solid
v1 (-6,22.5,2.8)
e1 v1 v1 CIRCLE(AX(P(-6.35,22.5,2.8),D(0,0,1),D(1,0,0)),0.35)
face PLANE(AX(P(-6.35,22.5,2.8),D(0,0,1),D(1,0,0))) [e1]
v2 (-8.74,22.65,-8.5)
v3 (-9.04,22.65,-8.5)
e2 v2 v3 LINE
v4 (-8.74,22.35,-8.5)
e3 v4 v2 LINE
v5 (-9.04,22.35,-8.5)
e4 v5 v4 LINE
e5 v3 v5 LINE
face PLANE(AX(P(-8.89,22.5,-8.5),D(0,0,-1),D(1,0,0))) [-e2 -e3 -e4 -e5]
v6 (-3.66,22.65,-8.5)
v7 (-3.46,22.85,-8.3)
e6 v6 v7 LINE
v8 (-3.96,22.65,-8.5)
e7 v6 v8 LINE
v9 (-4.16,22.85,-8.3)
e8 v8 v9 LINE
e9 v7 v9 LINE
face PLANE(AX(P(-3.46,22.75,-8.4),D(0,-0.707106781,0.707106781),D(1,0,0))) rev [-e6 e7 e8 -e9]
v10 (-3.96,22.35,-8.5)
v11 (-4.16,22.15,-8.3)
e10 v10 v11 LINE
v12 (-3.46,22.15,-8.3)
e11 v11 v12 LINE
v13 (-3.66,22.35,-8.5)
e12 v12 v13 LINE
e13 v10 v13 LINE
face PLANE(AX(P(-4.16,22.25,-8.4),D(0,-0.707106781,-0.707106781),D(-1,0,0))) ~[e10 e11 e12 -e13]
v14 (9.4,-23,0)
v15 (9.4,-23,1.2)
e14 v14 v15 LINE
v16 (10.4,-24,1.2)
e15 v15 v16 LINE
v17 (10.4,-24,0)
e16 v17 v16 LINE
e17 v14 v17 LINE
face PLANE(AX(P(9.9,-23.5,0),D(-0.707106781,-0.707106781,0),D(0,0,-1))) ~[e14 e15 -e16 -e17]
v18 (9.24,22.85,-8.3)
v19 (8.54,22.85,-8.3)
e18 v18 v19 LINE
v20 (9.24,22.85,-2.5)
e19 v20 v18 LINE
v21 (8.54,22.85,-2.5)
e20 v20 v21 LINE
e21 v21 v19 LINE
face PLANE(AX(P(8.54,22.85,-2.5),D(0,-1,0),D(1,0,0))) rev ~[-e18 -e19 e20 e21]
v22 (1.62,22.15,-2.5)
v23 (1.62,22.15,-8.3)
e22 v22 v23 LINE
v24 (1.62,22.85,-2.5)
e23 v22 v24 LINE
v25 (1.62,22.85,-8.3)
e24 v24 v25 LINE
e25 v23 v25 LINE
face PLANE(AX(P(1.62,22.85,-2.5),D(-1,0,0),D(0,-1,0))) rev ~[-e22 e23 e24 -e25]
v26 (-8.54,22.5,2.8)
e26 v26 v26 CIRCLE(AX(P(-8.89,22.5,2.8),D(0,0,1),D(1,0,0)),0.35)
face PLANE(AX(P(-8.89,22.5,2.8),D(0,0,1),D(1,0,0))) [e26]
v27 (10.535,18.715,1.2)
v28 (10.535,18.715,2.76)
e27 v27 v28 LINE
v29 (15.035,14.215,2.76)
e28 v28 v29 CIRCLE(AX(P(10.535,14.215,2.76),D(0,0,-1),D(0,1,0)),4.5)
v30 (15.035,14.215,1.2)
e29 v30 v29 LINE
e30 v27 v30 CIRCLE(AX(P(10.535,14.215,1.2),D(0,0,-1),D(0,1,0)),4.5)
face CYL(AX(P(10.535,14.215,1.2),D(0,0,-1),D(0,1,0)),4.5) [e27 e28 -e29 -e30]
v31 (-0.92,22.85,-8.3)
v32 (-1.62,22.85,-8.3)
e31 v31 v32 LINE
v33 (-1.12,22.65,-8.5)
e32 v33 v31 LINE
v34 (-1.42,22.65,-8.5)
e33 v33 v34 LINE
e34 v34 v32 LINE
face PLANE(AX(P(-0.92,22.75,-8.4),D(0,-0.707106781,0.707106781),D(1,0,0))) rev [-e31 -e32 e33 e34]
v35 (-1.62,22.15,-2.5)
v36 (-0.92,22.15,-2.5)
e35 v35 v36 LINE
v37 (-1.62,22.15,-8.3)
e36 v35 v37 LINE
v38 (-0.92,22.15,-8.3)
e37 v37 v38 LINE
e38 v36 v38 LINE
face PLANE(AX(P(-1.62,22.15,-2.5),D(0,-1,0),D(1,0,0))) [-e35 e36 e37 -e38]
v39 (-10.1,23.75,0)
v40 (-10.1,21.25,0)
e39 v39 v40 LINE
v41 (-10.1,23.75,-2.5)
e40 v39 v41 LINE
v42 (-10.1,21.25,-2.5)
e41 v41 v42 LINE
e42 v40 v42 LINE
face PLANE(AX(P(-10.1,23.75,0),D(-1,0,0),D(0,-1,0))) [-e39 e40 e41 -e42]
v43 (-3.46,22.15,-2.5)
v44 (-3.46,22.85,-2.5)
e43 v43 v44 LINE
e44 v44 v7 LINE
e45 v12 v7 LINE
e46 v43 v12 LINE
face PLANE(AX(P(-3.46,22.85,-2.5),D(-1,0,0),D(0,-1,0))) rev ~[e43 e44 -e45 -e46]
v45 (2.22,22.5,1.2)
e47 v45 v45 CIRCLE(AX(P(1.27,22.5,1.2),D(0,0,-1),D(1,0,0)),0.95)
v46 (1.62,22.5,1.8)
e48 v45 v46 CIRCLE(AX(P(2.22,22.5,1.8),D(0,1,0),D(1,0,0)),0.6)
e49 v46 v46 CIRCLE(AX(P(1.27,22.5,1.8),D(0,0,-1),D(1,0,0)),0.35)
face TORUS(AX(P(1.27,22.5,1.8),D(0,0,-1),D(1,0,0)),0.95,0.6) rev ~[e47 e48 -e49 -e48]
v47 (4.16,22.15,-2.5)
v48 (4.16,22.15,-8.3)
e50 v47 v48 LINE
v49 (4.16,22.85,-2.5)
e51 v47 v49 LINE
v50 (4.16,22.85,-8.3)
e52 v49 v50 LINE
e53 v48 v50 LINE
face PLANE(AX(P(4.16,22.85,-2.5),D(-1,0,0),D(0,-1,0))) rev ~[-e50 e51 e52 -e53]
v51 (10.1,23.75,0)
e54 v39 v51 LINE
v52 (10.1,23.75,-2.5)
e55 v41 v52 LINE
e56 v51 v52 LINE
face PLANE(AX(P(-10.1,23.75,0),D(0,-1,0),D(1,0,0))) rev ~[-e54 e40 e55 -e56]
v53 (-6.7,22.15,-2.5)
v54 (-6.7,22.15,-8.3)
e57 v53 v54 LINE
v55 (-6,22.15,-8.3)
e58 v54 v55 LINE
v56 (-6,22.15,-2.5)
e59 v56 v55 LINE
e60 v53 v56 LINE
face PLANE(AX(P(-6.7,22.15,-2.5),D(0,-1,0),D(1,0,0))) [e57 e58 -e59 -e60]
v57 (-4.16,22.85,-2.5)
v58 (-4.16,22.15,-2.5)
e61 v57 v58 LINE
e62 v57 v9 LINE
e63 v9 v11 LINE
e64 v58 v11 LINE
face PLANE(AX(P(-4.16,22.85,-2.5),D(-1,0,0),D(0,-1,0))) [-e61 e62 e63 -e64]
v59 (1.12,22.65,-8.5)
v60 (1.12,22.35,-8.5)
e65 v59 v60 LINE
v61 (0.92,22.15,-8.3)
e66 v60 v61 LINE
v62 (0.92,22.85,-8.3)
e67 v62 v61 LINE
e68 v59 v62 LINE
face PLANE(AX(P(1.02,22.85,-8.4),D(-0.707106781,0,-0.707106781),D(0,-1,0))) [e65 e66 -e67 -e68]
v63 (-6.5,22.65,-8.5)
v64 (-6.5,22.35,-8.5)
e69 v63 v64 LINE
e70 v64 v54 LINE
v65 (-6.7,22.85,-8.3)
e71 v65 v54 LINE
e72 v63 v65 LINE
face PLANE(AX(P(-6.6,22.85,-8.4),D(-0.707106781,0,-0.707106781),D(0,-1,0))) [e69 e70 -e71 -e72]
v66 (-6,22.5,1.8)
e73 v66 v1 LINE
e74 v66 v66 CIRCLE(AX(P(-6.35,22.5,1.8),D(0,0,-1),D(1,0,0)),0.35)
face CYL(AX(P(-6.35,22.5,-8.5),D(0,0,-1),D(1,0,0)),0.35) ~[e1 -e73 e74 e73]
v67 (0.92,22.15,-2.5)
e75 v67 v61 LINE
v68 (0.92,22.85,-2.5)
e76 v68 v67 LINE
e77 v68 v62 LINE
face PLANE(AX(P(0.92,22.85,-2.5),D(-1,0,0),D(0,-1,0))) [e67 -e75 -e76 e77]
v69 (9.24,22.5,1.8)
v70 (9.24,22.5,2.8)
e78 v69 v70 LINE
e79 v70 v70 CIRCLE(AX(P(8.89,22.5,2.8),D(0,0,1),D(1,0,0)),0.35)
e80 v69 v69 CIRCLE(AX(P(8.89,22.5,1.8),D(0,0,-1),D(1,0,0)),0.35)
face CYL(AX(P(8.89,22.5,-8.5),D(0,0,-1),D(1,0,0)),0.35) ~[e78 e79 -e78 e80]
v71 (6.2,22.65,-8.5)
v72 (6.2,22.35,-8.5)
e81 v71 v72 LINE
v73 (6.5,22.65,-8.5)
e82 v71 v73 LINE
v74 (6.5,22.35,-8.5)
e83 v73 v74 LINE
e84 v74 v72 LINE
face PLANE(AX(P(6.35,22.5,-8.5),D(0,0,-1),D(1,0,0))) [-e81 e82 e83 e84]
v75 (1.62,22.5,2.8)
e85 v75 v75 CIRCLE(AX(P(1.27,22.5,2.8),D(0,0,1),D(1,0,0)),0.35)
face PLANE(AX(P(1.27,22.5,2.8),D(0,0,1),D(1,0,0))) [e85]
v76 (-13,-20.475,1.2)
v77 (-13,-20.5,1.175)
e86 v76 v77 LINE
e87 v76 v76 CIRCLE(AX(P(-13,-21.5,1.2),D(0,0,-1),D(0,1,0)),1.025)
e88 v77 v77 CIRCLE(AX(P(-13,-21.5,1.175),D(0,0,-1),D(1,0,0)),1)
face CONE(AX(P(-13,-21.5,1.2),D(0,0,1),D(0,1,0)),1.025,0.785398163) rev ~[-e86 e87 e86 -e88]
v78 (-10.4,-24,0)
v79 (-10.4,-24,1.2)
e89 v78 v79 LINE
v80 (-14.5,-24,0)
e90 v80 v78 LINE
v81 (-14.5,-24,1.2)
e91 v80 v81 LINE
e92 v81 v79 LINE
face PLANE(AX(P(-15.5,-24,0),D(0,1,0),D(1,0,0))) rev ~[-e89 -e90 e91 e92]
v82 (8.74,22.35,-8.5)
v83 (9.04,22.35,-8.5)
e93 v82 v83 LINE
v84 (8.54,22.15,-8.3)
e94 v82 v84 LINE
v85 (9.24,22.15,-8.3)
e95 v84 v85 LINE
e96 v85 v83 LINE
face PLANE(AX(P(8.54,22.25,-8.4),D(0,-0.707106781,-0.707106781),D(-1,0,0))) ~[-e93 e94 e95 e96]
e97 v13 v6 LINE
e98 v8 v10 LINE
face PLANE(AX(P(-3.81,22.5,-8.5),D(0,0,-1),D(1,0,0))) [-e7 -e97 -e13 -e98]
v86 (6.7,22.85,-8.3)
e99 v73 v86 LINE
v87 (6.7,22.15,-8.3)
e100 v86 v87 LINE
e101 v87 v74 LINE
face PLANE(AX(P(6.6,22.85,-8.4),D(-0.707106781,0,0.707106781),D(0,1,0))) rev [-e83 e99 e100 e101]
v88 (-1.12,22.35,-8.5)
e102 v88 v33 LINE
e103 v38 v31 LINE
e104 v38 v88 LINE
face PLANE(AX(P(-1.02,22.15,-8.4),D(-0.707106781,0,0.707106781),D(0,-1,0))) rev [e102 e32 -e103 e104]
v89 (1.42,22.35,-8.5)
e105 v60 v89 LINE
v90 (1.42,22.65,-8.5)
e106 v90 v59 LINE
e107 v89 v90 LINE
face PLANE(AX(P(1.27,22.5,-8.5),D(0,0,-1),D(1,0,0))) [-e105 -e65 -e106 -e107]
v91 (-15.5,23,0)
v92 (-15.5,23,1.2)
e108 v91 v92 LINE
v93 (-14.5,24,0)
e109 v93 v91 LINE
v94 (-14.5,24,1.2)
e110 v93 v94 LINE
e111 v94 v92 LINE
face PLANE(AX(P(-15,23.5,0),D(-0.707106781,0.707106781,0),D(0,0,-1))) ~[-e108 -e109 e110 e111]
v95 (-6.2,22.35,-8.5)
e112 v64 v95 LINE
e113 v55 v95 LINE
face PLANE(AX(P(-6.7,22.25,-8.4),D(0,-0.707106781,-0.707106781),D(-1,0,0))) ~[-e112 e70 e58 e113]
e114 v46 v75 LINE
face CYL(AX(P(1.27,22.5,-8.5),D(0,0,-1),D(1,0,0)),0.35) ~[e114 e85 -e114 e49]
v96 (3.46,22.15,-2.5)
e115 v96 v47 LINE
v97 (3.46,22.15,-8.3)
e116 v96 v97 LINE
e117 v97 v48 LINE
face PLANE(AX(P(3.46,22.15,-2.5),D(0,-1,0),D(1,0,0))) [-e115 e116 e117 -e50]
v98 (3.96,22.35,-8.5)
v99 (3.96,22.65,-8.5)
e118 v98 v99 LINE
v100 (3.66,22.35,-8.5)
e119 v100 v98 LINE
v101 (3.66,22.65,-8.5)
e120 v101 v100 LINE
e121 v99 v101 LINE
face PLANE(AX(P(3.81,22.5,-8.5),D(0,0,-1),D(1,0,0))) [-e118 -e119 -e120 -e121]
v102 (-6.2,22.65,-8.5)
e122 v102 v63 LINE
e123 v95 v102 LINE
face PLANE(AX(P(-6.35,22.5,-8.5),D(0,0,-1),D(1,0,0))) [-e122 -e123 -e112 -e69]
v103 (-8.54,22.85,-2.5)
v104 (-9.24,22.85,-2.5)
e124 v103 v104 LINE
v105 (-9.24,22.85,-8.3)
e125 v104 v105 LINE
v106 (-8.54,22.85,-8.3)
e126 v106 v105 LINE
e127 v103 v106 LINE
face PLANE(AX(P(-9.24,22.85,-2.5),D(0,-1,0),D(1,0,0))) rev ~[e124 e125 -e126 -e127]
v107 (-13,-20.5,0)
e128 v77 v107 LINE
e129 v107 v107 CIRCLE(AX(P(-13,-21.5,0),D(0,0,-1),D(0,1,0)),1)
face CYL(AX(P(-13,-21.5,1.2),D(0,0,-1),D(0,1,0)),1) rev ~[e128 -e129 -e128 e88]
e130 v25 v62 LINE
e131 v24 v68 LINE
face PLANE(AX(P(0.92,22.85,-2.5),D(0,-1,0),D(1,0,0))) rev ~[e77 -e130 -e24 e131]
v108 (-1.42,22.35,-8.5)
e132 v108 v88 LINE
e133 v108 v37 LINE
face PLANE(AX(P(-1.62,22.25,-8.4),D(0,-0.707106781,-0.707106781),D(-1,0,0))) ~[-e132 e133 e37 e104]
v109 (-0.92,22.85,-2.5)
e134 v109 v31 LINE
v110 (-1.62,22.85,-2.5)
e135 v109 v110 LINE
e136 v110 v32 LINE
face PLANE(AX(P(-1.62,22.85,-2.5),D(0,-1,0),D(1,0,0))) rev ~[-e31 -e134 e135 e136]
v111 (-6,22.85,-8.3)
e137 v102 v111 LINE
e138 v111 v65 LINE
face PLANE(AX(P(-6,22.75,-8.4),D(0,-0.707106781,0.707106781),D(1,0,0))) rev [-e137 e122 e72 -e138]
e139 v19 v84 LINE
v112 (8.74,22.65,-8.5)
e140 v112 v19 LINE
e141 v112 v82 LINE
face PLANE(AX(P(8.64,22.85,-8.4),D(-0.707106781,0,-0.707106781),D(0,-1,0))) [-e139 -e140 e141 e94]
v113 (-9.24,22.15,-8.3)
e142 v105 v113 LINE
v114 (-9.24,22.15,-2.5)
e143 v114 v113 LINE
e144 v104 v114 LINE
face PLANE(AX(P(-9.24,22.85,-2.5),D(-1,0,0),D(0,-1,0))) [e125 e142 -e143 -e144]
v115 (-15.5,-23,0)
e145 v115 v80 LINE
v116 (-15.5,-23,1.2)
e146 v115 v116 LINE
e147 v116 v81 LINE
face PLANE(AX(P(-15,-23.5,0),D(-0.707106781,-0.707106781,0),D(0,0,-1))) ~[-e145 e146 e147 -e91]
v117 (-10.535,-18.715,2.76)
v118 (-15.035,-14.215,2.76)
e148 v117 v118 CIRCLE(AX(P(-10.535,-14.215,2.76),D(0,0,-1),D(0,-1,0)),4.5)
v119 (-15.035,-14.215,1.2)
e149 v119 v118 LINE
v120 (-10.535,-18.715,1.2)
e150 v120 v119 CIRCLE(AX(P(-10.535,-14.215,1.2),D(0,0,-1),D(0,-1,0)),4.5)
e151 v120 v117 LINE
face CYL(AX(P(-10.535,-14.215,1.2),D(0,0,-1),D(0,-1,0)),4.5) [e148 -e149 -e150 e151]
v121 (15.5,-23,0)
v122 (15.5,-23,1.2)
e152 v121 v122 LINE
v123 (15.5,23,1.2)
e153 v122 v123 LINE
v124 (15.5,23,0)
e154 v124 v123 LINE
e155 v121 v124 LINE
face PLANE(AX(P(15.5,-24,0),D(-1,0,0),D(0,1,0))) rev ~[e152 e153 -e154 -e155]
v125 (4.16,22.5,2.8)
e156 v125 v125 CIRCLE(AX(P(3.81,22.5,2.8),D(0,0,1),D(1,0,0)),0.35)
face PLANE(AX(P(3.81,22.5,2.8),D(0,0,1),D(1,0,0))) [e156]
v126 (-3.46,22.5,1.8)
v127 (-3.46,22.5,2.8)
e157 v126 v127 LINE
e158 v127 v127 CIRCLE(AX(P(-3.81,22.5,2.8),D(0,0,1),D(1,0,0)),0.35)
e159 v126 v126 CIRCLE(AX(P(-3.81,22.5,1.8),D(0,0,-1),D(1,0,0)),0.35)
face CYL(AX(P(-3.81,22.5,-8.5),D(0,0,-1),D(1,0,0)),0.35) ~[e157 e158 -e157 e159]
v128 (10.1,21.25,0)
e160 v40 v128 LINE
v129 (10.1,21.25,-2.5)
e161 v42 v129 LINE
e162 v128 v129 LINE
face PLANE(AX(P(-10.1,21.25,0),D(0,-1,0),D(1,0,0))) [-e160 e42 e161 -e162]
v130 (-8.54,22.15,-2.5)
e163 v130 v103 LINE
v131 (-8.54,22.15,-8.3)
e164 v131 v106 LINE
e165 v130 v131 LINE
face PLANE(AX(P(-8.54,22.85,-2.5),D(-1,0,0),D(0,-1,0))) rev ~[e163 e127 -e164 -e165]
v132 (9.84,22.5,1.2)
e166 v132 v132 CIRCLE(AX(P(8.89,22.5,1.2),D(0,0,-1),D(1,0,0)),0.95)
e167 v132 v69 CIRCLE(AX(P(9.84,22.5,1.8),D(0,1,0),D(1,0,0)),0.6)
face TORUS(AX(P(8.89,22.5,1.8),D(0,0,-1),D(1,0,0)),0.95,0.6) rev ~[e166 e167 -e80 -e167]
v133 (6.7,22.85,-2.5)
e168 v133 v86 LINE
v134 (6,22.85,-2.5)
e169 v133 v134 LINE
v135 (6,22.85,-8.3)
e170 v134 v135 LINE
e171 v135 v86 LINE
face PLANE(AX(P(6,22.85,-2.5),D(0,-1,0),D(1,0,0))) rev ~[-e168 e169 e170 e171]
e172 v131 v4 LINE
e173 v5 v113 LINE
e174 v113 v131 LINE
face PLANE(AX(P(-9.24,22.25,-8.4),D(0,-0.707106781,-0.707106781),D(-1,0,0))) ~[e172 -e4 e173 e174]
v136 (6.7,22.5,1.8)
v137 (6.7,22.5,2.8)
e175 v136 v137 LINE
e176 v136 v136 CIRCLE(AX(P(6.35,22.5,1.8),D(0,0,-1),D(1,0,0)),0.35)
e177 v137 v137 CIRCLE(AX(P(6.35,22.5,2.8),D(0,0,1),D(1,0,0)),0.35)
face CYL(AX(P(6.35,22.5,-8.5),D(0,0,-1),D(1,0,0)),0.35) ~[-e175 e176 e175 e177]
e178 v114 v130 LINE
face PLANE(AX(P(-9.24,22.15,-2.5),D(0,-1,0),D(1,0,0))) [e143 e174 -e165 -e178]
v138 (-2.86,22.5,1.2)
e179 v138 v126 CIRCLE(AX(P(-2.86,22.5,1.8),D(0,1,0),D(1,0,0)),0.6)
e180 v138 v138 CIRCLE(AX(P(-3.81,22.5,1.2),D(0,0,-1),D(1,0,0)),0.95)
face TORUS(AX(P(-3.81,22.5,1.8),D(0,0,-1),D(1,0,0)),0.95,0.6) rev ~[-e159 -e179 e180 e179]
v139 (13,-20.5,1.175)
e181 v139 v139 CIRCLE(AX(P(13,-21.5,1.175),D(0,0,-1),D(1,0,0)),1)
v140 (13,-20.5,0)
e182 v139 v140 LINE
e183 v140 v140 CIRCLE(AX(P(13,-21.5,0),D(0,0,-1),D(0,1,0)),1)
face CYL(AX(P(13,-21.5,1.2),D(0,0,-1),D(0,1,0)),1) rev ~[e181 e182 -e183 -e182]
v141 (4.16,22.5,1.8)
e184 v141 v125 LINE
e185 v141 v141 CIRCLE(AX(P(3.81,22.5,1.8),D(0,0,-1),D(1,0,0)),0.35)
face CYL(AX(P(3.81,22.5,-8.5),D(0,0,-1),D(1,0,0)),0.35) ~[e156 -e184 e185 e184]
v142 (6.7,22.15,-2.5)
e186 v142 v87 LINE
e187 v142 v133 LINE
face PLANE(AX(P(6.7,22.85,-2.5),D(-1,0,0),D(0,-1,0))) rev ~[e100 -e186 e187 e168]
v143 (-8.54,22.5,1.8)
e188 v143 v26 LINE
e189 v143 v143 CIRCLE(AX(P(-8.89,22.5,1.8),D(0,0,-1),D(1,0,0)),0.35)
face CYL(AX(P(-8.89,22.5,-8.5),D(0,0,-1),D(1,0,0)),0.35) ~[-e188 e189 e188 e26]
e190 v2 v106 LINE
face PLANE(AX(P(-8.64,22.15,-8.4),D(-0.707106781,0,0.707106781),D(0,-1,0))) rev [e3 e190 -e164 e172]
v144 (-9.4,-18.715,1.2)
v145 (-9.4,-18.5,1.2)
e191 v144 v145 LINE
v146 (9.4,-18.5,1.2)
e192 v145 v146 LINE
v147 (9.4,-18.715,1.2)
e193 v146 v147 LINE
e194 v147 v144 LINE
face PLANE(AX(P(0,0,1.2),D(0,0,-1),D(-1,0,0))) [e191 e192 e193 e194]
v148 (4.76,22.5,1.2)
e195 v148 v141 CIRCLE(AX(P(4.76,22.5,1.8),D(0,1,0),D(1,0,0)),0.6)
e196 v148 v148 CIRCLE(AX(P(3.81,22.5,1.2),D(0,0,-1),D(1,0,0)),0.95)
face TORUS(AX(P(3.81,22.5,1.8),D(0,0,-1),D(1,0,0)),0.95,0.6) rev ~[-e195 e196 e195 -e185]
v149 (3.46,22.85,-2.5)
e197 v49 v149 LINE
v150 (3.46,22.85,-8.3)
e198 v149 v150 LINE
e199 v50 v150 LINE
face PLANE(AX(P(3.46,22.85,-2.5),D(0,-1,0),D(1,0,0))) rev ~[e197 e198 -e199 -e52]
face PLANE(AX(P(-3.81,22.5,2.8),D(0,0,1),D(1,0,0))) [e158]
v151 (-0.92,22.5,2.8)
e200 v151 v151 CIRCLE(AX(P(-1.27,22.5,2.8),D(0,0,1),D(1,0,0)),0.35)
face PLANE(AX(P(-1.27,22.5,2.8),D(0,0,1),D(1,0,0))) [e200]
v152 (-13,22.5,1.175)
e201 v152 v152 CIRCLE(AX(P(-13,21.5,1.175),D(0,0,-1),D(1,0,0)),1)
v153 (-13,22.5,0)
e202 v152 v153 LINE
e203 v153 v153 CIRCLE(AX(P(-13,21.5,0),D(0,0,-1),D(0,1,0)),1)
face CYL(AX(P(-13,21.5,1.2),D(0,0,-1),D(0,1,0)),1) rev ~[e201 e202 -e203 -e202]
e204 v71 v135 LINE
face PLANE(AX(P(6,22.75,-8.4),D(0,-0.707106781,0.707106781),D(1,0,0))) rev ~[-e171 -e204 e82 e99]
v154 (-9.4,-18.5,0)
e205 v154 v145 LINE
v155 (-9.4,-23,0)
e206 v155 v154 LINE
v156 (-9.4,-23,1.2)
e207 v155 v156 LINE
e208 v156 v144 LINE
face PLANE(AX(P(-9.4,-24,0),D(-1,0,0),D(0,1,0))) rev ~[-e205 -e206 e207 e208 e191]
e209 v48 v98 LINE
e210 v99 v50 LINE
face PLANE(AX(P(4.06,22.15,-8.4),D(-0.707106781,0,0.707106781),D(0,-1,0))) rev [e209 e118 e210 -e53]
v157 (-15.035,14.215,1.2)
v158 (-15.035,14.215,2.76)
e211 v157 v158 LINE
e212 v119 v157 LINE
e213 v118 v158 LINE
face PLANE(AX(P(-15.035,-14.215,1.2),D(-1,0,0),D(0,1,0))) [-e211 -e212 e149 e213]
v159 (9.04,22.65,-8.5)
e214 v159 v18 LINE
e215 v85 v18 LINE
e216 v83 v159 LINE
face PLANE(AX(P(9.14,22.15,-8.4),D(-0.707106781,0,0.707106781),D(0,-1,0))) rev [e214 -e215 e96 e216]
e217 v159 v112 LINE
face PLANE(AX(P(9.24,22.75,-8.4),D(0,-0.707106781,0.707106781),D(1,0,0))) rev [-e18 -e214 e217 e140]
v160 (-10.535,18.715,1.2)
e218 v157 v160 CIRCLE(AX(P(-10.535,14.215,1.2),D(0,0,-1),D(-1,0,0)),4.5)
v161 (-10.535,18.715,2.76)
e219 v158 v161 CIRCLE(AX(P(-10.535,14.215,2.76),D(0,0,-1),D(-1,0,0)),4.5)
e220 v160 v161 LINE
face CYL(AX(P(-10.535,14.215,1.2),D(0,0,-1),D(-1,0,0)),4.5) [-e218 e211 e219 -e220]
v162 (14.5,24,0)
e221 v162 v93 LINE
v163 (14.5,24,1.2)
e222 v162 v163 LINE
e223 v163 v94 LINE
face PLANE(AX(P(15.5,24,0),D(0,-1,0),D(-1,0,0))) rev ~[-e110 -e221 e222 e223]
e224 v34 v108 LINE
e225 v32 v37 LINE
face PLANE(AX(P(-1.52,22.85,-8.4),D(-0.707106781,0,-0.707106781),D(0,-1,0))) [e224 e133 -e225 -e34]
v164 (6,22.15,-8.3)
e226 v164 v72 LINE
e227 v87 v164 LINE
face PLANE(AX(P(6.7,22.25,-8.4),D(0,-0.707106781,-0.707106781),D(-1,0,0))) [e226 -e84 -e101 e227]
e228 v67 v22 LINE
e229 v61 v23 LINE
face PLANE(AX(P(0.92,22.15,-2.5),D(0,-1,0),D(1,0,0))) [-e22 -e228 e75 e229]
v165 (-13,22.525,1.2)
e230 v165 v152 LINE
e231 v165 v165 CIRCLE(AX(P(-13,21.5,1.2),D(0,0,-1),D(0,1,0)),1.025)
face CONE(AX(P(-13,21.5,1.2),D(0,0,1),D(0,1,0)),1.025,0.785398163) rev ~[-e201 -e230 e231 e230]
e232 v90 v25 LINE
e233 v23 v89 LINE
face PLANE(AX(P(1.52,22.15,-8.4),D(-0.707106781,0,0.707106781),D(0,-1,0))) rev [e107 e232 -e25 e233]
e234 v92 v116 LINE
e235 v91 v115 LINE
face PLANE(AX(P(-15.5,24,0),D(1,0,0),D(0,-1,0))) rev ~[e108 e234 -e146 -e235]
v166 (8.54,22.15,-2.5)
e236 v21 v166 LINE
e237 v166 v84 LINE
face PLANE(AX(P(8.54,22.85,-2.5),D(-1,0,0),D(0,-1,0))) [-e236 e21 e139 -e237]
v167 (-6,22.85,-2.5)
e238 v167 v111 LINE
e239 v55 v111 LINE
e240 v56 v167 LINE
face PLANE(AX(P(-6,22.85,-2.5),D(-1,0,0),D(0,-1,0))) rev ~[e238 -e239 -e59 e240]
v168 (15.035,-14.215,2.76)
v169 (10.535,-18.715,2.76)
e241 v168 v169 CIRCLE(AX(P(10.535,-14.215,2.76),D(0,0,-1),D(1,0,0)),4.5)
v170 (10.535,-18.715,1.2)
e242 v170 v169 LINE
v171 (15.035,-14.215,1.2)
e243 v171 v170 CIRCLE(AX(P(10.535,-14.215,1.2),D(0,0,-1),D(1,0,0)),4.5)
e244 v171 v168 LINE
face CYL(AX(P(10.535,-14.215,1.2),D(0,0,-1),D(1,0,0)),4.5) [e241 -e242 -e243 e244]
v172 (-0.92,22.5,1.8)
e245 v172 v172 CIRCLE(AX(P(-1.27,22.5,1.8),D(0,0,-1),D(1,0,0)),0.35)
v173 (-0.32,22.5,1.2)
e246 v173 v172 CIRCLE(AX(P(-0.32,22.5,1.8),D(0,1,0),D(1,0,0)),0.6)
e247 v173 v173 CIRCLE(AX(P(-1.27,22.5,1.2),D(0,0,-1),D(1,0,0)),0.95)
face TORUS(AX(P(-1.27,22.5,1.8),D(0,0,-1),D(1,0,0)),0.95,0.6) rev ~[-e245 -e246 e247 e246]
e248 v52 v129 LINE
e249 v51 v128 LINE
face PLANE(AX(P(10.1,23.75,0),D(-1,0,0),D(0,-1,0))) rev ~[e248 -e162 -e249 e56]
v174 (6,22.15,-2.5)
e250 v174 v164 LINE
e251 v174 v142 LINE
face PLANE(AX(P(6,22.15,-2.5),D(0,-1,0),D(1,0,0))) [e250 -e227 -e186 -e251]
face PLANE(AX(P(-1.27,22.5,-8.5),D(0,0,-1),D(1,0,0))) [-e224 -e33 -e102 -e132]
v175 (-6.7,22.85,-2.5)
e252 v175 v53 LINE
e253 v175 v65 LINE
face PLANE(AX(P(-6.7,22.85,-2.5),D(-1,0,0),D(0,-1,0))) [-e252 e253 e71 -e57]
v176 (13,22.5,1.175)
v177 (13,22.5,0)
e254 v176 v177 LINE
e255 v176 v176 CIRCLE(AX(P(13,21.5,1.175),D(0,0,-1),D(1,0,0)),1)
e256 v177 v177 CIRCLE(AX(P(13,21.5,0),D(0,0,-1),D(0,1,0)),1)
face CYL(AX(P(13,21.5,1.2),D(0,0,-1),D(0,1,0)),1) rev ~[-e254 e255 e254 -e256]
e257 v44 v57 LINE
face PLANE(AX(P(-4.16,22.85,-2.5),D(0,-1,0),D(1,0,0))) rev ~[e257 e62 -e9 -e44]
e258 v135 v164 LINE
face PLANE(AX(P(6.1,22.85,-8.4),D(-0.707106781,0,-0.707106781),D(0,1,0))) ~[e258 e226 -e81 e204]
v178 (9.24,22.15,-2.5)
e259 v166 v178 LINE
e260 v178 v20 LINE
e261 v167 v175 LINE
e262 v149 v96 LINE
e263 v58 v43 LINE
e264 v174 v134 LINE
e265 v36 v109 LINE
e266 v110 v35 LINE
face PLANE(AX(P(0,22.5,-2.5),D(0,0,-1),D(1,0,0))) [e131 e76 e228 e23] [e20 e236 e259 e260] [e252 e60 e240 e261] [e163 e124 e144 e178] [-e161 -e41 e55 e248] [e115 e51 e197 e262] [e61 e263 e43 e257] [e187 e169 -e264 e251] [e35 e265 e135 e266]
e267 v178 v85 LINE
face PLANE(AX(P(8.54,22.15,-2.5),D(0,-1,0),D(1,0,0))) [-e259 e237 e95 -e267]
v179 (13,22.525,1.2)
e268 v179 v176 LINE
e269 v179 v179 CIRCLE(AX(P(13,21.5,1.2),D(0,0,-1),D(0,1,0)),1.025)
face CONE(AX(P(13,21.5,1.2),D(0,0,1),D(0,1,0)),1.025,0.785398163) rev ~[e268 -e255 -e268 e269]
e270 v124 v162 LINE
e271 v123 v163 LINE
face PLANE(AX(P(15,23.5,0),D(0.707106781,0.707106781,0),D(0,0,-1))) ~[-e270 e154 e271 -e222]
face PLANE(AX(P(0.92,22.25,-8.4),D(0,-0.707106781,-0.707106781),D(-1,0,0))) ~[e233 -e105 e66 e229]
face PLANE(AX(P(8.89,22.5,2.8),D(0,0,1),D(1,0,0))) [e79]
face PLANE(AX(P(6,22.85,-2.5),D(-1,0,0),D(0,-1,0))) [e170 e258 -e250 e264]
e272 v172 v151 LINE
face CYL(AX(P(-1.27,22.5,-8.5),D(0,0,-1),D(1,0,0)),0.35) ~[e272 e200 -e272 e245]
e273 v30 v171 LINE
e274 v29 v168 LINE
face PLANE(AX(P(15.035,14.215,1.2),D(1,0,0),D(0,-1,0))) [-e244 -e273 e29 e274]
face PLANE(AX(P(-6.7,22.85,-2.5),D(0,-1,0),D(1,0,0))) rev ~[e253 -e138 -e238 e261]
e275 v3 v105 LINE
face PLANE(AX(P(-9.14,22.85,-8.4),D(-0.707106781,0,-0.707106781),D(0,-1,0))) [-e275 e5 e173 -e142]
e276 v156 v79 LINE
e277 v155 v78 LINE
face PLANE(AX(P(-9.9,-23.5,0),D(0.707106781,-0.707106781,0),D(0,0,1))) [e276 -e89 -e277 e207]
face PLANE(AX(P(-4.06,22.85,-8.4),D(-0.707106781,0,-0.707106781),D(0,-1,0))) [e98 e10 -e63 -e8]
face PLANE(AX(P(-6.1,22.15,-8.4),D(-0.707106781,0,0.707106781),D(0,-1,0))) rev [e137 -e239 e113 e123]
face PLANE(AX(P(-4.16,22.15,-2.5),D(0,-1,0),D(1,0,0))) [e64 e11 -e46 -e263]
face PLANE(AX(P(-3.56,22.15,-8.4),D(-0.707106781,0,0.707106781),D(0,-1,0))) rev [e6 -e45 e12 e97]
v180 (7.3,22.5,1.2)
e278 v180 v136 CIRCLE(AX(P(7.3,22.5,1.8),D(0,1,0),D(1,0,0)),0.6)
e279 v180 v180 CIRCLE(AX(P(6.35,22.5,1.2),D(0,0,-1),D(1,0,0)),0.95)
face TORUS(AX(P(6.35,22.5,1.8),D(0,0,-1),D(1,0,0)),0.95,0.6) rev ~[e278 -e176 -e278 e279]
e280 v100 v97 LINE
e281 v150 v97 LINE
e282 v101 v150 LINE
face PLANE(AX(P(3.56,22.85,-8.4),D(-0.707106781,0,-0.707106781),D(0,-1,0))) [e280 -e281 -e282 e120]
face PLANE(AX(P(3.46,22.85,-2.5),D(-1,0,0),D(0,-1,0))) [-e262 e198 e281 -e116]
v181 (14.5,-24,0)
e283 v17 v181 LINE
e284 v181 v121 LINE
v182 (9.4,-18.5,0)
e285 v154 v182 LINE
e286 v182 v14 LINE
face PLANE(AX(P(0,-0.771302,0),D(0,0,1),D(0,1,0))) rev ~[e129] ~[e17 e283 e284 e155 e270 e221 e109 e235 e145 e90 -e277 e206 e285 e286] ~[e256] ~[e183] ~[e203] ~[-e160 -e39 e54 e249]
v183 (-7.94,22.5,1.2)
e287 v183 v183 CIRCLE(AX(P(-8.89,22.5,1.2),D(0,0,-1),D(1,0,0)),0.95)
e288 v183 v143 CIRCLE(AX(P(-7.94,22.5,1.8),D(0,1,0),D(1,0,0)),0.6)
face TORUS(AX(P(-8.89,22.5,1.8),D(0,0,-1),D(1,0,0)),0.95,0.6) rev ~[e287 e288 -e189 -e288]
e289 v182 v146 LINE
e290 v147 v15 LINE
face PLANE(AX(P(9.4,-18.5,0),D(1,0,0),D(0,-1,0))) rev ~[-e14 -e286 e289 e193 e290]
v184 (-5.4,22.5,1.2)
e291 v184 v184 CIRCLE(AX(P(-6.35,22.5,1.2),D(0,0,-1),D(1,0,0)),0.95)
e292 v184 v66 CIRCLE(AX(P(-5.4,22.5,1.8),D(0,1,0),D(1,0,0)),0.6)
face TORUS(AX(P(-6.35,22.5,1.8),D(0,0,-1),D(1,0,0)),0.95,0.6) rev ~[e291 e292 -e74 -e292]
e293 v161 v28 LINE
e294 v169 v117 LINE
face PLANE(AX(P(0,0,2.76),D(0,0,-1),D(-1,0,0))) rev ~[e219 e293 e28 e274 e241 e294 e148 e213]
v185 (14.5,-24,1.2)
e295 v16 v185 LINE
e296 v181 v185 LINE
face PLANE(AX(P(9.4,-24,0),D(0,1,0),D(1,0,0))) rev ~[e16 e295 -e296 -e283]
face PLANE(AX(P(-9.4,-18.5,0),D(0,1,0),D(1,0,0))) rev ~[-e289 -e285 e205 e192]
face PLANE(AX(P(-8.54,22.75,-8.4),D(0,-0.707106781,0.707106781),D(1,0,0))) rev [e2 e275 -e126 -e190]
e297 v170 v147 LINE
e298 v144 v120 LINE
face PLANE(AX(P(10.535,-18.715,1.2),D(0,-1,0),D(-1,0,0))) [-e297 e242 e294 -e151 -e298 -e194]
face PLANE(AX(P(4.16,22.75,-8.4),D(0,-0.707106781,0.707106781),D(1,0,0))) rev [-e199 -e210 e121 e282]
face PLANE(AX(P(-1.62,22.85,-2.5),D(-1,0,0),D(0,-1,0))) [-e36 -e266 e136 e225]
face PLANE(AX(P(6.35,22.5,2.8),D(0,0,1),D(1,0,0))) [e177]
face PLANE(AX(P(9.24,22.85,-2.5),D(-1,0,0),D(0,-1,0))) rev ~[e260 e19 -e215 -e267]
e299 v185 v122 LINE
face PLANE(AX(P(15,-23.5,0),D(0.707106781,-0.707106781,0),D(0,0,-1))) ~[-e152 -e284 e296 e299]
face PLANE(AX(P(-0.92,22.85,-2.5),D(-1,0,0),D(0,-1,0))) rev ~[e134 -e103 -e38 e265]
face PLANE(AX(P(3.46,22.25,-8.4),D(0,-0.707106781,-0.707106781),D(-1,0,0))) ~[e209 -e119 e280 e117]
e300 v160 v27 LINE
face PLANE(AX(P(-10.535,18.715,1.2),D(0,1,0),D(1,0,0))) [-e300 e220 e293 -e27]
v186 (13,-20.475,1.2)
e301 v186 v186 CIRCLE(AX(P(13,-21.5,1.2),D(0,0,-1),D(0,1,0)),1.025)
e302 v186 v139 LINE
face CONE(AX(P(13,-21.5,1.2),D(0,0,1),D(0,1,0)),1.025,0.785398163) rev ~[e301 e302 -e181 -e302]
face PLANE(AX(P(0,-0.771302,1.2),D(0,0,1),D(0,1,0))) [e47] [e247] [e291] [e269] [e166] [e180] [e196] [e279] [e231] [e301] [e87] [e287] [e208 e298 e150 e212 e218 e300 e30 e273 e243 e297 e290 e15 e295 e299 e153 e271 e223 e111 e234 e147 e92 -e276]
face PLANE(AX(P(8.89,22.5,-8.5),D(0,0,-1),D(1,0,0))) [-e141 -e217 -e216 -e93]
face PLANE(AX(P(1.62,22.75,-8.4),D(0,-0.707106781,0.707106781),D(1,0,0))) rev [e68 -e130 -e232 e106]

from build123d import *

# Parameters (mm, degrees)
AUFSATZ_LINEAR_AUSTRAGEN1_DEPTH          = 1.2
FASE1_SIZE                               = 1
F_2_0_2_DURCHMESSER_BOHRUNG1_D           = 2
F_2_0_2_DURCHMESSER_BOHRUNG1_CSINK_D     = 2.05
F_2_0_2_DURCHMESSER_BOHRUNG1_CSINK_ANGLE = 90
AUFSATZ_LINEAR_AUSTRAGEN2_DEPTH          = 1.56
AUFSATZ_LINEAR_AUSTRAGEN3_DEPTH          = 1.6
AUFSATZ_LINEAR_AUSTRAGEN3_DEPTH_BACK     = 9.7
SKIZZE5_R                                = 0.35
VERRUNDUNG1_R                            = 0.6
SKIZZE6_W                                = 20.2
SKIZZE6_H                                = 2.5
AUFSATZ_LINEAR_AUSTRAGEN4_DEPTH          = 2.5
SKIZZE7_W                                = 0.7
SKIZZE7_H                                = 0.7
AUFSATZ_LINEAR_AUSTRAGEN5_DEPTH          = 6
FASE2_SIZE                               = 0.2


with BuildPart() as part:
    # Skizze1 → Aufsatz-Linear austragen1 (new body)
    with BuildSketch(Plane(origin=(0, 0, 0), x_dir=(0, 1, 0), z_dir=(0, 0, 1))):
        Polygon((-24, 9.4), (-18.5, 9.4), (-18.5, -9.4), (-24, -9.4), (-24, -15.5), (24, -15.5), (24, 15.5), (-24, 15.5), align=None)
    extrude(amount=AUFSATZ_LINEAR_AUSTRAGEN1_DEPTH)

    # Fase1
    fase1_edges = [part.edges().sort_by_distance(p)[0] for p in [
        (15.5, 24, 0.6),
        (15.5, -24, 0.6),
        (9.4, -24, 0.6),
        (-9.4, -24, 0.6),
        (-15.5, -24, 0.6),
        (-15.5, 24, 0.6),
    ]]
    chamfer(fase1_edges, length=FASE1_SIZE)

    # Ø2.0 (2) Durchmesser Bohrung1 (through all)
    with Locations(Plane(origin=(0, 0, 1.2), x_dir=(0, -1, 0), z_dir=(0, 0, 1))):
        with Locations((21.5, 13), (-21.5, 13), (21.5, -13), (-21.5, -13)):
            CounterSinkHole(F_2_0_2_DURCHMESSER_BOHRUNG1_D / 2, F_2_0_2_DURCHMESSER_BOHRUNG1_CSINK_D / 2, counter_sink_angle=F_2_0_2_DURCHMESSER_BOHRUNG1_CSINK_ANGLE)

    # Skizze4 → Aufsatz-Linear austragen2 (add)
    with BuildSketch(Plane.XY.offset(1.2)):
        with BuildLine():
            Line((10.535, -18.715), (-10.535, -18.715))
            ThreePointArc((-10.535, -18.715), (-13.716980515, -17.396980515), (-15.035, -14.215))
            Line((-15.035, -14.215), (-15.035, 14.215))
            ThreePointArc((-15.035, 14.215), (-13.716980515, 17.396980515), (-10.535, 18.715))
            Line((-10.535, 18.715), (10.535, 18.715))
            ThreePointArc((10.535, 18.715), (13.716980515, 17.396980515), (15.035, 14.215))
            Line((15.035, 14.215), (15.035, -14.215))
            ThreePointArc((15.035, -14.215), (13.716980515, -17.396980515), (10.535, -18.715))
        make_face()
    extrude(amount=AUFSATZ_LINEAR_AUSTRAGEN2_DEPTH)

    # Skizze5 → Aufsatz-Linear austragen3 (add, two sides: drawn at the far end of the back side and taken through both)
    with BuildSketch(Plane.XY.offset(1.2).offset(-AUFSATZ_LINEAR_AUSTRAGEN3_DEPTH_BACK)):
        with Locations((-8.89, 22.5)):
            Circle(SKIZZE5_R)
        with Locations((-6.35, 22.5)):
            Circle(SKIZZE5_R)
        with Locations((-3.81, 22.5)):
            Circle(SKIZZE5_R)
        with Locations((-1.27, 22.5)):
            Circle(SKIZZE5_R)
        with Locations((1.27, 22.5)):
            Circle(SKIZZE5_R)
        with Locations((3.81, 22.5)):
            Circle(SKIZZE5_R)
        with Locations((6.35, 22.5)):
            Circle(SKIZZE5_R)
        with Locations((8.89, 22.5)):
            Circle(SKIZZE5_R)
    extrude(amount=AUFSATZ_LINEAR_AUSTRAGEN3_DEPTH + AUFSATZ_LINEAR_AUSTRAGEN3_DEPTH_BACK)

    # Verrundung1
    verrundung1_edges = [part.edges().sort_by_distance(p)[0] for p in [
        (-9.24, 22.5, 1.2),
        (-6.7, 22.5, 1.2),
        (-4.16, 22.5, 1.2),
        (-1.62, 22.5, 1.2),
        (0.92, 22.5, 1.2),
        (3.46, 22.5, 1.2),
        (6, 22.5, 1.2),
        (8.54, 22.5, 1.2),
    ]]
    fillet(verrundung1_edges, radius=VERRUNDUNG1_R)

    # Skizze6 → Aufsatz-Linear austragen4 (add)
    with BuildSketch(Plane(origin=(0, 0, 0), x_dir=(1, 0, 0), z_dir=(0, 0, -1))):
        with Locations((0, -22.5)):
            Rectangle(SKIZZE6_W, SKIZZE6_H)
    extrude(amount=AUFSATZ_LINEAR_AUSTRAGEN4_DEPTH)

    # Skizze7 → Aufsatz-Linear austragen5 (add)
    with BuildSketch(Plane(origin=(0, 0, -2.5), x_dir=(1, 0, 0), z_dir=(0, 0, -1))):
        with Locations((6.35, -22.5)):
            Rectangle(SKIZZE7_W, SKIZZE7_H)
        with Locations((8.89, -22.5)):
            Rectangle(SKIZZE7_W, SKIZZE7_H)
        with Locations((3.81, -22.5)):
            Rectangle(SKIZZE7_W, SKIZZE7_H)
        with Locations((1.27, -22.5)):
            Rectangle(SKIZZE7_W, SKIZZE7_H)
        with Locations((-1.27, -22.5)):
            Rectangle(SKIZZE7_W, SKIZZE7_H)
        with Locations((-3.81, -22.5)):
            Rectangle(SKIZZE7_W, SKIZZE7_H)
        with Locations((-6.35, -22.5)):
            Rectangle(SKIZZE7_W, SKIZZE7_H)
        with Locations((-8.89, -22.5)):
            Rectangle(SKIZZE7_W, SKIZZE7_H)
    extrude(amount=AUFSATZ_LINEAR_AUSTRAGEN5_DEPTH)

    # Fase2
    fase2_edges = [part.edges().sort_by_distance(p)[0] for p in [
        (8.89, 22.85, -8.5),
        (8.54, 22.5, -8.5),
        (8.89, 22.15, -8.5),
        (9.24, 22.5, -8.5),
        (6.35, 22.85, -8.5),
        (6, 22.5, -8.5),
        (6.35, 22.15, -8.5),
        (6.7, 22.5, -8.5),
        (3.81, 22.85, -8.5),
        (3.46, 22.5, -8.5),
        (3.81, 22.15, -8.5),
        (4.16, 22.5, -8.5),
        (1.27, 22.85, -8.5),
        (0.92, 22.5, -8.5),
        (1.27, 22.15, -8.5),
        (1.62, 22.5, -8.5),
        (-1.27, 22.85, -8.5),
        (-1.62, 22.5, -8.5),
        (-1.27, 22.15, -8.5),
        (-0.92, 22.5, -8.5),
        (-3.81, 22.85, -8.5),
        (-4.16, 22.5, -8.5),
        (-3.81, 22.15, -8.5),
        (-3.46, 22.5, -8.5),
        (-6.35, 22.85, -8.5),
        (-6.7, 22.5, -8.5),
        (-6.35, 22.15, -8.5),
        (-6, 22.5, -8.5),
        (-8.89, 22.85, -8.5),
        (-9.24, 22.5, -8.5),
        (-8.89, 22.15, -8.5),
        (-8.54, 22.5, -8.5),
    ]]
    chamfer(fase2_edges, length=FASE2_SIZE)


solid = part.part
